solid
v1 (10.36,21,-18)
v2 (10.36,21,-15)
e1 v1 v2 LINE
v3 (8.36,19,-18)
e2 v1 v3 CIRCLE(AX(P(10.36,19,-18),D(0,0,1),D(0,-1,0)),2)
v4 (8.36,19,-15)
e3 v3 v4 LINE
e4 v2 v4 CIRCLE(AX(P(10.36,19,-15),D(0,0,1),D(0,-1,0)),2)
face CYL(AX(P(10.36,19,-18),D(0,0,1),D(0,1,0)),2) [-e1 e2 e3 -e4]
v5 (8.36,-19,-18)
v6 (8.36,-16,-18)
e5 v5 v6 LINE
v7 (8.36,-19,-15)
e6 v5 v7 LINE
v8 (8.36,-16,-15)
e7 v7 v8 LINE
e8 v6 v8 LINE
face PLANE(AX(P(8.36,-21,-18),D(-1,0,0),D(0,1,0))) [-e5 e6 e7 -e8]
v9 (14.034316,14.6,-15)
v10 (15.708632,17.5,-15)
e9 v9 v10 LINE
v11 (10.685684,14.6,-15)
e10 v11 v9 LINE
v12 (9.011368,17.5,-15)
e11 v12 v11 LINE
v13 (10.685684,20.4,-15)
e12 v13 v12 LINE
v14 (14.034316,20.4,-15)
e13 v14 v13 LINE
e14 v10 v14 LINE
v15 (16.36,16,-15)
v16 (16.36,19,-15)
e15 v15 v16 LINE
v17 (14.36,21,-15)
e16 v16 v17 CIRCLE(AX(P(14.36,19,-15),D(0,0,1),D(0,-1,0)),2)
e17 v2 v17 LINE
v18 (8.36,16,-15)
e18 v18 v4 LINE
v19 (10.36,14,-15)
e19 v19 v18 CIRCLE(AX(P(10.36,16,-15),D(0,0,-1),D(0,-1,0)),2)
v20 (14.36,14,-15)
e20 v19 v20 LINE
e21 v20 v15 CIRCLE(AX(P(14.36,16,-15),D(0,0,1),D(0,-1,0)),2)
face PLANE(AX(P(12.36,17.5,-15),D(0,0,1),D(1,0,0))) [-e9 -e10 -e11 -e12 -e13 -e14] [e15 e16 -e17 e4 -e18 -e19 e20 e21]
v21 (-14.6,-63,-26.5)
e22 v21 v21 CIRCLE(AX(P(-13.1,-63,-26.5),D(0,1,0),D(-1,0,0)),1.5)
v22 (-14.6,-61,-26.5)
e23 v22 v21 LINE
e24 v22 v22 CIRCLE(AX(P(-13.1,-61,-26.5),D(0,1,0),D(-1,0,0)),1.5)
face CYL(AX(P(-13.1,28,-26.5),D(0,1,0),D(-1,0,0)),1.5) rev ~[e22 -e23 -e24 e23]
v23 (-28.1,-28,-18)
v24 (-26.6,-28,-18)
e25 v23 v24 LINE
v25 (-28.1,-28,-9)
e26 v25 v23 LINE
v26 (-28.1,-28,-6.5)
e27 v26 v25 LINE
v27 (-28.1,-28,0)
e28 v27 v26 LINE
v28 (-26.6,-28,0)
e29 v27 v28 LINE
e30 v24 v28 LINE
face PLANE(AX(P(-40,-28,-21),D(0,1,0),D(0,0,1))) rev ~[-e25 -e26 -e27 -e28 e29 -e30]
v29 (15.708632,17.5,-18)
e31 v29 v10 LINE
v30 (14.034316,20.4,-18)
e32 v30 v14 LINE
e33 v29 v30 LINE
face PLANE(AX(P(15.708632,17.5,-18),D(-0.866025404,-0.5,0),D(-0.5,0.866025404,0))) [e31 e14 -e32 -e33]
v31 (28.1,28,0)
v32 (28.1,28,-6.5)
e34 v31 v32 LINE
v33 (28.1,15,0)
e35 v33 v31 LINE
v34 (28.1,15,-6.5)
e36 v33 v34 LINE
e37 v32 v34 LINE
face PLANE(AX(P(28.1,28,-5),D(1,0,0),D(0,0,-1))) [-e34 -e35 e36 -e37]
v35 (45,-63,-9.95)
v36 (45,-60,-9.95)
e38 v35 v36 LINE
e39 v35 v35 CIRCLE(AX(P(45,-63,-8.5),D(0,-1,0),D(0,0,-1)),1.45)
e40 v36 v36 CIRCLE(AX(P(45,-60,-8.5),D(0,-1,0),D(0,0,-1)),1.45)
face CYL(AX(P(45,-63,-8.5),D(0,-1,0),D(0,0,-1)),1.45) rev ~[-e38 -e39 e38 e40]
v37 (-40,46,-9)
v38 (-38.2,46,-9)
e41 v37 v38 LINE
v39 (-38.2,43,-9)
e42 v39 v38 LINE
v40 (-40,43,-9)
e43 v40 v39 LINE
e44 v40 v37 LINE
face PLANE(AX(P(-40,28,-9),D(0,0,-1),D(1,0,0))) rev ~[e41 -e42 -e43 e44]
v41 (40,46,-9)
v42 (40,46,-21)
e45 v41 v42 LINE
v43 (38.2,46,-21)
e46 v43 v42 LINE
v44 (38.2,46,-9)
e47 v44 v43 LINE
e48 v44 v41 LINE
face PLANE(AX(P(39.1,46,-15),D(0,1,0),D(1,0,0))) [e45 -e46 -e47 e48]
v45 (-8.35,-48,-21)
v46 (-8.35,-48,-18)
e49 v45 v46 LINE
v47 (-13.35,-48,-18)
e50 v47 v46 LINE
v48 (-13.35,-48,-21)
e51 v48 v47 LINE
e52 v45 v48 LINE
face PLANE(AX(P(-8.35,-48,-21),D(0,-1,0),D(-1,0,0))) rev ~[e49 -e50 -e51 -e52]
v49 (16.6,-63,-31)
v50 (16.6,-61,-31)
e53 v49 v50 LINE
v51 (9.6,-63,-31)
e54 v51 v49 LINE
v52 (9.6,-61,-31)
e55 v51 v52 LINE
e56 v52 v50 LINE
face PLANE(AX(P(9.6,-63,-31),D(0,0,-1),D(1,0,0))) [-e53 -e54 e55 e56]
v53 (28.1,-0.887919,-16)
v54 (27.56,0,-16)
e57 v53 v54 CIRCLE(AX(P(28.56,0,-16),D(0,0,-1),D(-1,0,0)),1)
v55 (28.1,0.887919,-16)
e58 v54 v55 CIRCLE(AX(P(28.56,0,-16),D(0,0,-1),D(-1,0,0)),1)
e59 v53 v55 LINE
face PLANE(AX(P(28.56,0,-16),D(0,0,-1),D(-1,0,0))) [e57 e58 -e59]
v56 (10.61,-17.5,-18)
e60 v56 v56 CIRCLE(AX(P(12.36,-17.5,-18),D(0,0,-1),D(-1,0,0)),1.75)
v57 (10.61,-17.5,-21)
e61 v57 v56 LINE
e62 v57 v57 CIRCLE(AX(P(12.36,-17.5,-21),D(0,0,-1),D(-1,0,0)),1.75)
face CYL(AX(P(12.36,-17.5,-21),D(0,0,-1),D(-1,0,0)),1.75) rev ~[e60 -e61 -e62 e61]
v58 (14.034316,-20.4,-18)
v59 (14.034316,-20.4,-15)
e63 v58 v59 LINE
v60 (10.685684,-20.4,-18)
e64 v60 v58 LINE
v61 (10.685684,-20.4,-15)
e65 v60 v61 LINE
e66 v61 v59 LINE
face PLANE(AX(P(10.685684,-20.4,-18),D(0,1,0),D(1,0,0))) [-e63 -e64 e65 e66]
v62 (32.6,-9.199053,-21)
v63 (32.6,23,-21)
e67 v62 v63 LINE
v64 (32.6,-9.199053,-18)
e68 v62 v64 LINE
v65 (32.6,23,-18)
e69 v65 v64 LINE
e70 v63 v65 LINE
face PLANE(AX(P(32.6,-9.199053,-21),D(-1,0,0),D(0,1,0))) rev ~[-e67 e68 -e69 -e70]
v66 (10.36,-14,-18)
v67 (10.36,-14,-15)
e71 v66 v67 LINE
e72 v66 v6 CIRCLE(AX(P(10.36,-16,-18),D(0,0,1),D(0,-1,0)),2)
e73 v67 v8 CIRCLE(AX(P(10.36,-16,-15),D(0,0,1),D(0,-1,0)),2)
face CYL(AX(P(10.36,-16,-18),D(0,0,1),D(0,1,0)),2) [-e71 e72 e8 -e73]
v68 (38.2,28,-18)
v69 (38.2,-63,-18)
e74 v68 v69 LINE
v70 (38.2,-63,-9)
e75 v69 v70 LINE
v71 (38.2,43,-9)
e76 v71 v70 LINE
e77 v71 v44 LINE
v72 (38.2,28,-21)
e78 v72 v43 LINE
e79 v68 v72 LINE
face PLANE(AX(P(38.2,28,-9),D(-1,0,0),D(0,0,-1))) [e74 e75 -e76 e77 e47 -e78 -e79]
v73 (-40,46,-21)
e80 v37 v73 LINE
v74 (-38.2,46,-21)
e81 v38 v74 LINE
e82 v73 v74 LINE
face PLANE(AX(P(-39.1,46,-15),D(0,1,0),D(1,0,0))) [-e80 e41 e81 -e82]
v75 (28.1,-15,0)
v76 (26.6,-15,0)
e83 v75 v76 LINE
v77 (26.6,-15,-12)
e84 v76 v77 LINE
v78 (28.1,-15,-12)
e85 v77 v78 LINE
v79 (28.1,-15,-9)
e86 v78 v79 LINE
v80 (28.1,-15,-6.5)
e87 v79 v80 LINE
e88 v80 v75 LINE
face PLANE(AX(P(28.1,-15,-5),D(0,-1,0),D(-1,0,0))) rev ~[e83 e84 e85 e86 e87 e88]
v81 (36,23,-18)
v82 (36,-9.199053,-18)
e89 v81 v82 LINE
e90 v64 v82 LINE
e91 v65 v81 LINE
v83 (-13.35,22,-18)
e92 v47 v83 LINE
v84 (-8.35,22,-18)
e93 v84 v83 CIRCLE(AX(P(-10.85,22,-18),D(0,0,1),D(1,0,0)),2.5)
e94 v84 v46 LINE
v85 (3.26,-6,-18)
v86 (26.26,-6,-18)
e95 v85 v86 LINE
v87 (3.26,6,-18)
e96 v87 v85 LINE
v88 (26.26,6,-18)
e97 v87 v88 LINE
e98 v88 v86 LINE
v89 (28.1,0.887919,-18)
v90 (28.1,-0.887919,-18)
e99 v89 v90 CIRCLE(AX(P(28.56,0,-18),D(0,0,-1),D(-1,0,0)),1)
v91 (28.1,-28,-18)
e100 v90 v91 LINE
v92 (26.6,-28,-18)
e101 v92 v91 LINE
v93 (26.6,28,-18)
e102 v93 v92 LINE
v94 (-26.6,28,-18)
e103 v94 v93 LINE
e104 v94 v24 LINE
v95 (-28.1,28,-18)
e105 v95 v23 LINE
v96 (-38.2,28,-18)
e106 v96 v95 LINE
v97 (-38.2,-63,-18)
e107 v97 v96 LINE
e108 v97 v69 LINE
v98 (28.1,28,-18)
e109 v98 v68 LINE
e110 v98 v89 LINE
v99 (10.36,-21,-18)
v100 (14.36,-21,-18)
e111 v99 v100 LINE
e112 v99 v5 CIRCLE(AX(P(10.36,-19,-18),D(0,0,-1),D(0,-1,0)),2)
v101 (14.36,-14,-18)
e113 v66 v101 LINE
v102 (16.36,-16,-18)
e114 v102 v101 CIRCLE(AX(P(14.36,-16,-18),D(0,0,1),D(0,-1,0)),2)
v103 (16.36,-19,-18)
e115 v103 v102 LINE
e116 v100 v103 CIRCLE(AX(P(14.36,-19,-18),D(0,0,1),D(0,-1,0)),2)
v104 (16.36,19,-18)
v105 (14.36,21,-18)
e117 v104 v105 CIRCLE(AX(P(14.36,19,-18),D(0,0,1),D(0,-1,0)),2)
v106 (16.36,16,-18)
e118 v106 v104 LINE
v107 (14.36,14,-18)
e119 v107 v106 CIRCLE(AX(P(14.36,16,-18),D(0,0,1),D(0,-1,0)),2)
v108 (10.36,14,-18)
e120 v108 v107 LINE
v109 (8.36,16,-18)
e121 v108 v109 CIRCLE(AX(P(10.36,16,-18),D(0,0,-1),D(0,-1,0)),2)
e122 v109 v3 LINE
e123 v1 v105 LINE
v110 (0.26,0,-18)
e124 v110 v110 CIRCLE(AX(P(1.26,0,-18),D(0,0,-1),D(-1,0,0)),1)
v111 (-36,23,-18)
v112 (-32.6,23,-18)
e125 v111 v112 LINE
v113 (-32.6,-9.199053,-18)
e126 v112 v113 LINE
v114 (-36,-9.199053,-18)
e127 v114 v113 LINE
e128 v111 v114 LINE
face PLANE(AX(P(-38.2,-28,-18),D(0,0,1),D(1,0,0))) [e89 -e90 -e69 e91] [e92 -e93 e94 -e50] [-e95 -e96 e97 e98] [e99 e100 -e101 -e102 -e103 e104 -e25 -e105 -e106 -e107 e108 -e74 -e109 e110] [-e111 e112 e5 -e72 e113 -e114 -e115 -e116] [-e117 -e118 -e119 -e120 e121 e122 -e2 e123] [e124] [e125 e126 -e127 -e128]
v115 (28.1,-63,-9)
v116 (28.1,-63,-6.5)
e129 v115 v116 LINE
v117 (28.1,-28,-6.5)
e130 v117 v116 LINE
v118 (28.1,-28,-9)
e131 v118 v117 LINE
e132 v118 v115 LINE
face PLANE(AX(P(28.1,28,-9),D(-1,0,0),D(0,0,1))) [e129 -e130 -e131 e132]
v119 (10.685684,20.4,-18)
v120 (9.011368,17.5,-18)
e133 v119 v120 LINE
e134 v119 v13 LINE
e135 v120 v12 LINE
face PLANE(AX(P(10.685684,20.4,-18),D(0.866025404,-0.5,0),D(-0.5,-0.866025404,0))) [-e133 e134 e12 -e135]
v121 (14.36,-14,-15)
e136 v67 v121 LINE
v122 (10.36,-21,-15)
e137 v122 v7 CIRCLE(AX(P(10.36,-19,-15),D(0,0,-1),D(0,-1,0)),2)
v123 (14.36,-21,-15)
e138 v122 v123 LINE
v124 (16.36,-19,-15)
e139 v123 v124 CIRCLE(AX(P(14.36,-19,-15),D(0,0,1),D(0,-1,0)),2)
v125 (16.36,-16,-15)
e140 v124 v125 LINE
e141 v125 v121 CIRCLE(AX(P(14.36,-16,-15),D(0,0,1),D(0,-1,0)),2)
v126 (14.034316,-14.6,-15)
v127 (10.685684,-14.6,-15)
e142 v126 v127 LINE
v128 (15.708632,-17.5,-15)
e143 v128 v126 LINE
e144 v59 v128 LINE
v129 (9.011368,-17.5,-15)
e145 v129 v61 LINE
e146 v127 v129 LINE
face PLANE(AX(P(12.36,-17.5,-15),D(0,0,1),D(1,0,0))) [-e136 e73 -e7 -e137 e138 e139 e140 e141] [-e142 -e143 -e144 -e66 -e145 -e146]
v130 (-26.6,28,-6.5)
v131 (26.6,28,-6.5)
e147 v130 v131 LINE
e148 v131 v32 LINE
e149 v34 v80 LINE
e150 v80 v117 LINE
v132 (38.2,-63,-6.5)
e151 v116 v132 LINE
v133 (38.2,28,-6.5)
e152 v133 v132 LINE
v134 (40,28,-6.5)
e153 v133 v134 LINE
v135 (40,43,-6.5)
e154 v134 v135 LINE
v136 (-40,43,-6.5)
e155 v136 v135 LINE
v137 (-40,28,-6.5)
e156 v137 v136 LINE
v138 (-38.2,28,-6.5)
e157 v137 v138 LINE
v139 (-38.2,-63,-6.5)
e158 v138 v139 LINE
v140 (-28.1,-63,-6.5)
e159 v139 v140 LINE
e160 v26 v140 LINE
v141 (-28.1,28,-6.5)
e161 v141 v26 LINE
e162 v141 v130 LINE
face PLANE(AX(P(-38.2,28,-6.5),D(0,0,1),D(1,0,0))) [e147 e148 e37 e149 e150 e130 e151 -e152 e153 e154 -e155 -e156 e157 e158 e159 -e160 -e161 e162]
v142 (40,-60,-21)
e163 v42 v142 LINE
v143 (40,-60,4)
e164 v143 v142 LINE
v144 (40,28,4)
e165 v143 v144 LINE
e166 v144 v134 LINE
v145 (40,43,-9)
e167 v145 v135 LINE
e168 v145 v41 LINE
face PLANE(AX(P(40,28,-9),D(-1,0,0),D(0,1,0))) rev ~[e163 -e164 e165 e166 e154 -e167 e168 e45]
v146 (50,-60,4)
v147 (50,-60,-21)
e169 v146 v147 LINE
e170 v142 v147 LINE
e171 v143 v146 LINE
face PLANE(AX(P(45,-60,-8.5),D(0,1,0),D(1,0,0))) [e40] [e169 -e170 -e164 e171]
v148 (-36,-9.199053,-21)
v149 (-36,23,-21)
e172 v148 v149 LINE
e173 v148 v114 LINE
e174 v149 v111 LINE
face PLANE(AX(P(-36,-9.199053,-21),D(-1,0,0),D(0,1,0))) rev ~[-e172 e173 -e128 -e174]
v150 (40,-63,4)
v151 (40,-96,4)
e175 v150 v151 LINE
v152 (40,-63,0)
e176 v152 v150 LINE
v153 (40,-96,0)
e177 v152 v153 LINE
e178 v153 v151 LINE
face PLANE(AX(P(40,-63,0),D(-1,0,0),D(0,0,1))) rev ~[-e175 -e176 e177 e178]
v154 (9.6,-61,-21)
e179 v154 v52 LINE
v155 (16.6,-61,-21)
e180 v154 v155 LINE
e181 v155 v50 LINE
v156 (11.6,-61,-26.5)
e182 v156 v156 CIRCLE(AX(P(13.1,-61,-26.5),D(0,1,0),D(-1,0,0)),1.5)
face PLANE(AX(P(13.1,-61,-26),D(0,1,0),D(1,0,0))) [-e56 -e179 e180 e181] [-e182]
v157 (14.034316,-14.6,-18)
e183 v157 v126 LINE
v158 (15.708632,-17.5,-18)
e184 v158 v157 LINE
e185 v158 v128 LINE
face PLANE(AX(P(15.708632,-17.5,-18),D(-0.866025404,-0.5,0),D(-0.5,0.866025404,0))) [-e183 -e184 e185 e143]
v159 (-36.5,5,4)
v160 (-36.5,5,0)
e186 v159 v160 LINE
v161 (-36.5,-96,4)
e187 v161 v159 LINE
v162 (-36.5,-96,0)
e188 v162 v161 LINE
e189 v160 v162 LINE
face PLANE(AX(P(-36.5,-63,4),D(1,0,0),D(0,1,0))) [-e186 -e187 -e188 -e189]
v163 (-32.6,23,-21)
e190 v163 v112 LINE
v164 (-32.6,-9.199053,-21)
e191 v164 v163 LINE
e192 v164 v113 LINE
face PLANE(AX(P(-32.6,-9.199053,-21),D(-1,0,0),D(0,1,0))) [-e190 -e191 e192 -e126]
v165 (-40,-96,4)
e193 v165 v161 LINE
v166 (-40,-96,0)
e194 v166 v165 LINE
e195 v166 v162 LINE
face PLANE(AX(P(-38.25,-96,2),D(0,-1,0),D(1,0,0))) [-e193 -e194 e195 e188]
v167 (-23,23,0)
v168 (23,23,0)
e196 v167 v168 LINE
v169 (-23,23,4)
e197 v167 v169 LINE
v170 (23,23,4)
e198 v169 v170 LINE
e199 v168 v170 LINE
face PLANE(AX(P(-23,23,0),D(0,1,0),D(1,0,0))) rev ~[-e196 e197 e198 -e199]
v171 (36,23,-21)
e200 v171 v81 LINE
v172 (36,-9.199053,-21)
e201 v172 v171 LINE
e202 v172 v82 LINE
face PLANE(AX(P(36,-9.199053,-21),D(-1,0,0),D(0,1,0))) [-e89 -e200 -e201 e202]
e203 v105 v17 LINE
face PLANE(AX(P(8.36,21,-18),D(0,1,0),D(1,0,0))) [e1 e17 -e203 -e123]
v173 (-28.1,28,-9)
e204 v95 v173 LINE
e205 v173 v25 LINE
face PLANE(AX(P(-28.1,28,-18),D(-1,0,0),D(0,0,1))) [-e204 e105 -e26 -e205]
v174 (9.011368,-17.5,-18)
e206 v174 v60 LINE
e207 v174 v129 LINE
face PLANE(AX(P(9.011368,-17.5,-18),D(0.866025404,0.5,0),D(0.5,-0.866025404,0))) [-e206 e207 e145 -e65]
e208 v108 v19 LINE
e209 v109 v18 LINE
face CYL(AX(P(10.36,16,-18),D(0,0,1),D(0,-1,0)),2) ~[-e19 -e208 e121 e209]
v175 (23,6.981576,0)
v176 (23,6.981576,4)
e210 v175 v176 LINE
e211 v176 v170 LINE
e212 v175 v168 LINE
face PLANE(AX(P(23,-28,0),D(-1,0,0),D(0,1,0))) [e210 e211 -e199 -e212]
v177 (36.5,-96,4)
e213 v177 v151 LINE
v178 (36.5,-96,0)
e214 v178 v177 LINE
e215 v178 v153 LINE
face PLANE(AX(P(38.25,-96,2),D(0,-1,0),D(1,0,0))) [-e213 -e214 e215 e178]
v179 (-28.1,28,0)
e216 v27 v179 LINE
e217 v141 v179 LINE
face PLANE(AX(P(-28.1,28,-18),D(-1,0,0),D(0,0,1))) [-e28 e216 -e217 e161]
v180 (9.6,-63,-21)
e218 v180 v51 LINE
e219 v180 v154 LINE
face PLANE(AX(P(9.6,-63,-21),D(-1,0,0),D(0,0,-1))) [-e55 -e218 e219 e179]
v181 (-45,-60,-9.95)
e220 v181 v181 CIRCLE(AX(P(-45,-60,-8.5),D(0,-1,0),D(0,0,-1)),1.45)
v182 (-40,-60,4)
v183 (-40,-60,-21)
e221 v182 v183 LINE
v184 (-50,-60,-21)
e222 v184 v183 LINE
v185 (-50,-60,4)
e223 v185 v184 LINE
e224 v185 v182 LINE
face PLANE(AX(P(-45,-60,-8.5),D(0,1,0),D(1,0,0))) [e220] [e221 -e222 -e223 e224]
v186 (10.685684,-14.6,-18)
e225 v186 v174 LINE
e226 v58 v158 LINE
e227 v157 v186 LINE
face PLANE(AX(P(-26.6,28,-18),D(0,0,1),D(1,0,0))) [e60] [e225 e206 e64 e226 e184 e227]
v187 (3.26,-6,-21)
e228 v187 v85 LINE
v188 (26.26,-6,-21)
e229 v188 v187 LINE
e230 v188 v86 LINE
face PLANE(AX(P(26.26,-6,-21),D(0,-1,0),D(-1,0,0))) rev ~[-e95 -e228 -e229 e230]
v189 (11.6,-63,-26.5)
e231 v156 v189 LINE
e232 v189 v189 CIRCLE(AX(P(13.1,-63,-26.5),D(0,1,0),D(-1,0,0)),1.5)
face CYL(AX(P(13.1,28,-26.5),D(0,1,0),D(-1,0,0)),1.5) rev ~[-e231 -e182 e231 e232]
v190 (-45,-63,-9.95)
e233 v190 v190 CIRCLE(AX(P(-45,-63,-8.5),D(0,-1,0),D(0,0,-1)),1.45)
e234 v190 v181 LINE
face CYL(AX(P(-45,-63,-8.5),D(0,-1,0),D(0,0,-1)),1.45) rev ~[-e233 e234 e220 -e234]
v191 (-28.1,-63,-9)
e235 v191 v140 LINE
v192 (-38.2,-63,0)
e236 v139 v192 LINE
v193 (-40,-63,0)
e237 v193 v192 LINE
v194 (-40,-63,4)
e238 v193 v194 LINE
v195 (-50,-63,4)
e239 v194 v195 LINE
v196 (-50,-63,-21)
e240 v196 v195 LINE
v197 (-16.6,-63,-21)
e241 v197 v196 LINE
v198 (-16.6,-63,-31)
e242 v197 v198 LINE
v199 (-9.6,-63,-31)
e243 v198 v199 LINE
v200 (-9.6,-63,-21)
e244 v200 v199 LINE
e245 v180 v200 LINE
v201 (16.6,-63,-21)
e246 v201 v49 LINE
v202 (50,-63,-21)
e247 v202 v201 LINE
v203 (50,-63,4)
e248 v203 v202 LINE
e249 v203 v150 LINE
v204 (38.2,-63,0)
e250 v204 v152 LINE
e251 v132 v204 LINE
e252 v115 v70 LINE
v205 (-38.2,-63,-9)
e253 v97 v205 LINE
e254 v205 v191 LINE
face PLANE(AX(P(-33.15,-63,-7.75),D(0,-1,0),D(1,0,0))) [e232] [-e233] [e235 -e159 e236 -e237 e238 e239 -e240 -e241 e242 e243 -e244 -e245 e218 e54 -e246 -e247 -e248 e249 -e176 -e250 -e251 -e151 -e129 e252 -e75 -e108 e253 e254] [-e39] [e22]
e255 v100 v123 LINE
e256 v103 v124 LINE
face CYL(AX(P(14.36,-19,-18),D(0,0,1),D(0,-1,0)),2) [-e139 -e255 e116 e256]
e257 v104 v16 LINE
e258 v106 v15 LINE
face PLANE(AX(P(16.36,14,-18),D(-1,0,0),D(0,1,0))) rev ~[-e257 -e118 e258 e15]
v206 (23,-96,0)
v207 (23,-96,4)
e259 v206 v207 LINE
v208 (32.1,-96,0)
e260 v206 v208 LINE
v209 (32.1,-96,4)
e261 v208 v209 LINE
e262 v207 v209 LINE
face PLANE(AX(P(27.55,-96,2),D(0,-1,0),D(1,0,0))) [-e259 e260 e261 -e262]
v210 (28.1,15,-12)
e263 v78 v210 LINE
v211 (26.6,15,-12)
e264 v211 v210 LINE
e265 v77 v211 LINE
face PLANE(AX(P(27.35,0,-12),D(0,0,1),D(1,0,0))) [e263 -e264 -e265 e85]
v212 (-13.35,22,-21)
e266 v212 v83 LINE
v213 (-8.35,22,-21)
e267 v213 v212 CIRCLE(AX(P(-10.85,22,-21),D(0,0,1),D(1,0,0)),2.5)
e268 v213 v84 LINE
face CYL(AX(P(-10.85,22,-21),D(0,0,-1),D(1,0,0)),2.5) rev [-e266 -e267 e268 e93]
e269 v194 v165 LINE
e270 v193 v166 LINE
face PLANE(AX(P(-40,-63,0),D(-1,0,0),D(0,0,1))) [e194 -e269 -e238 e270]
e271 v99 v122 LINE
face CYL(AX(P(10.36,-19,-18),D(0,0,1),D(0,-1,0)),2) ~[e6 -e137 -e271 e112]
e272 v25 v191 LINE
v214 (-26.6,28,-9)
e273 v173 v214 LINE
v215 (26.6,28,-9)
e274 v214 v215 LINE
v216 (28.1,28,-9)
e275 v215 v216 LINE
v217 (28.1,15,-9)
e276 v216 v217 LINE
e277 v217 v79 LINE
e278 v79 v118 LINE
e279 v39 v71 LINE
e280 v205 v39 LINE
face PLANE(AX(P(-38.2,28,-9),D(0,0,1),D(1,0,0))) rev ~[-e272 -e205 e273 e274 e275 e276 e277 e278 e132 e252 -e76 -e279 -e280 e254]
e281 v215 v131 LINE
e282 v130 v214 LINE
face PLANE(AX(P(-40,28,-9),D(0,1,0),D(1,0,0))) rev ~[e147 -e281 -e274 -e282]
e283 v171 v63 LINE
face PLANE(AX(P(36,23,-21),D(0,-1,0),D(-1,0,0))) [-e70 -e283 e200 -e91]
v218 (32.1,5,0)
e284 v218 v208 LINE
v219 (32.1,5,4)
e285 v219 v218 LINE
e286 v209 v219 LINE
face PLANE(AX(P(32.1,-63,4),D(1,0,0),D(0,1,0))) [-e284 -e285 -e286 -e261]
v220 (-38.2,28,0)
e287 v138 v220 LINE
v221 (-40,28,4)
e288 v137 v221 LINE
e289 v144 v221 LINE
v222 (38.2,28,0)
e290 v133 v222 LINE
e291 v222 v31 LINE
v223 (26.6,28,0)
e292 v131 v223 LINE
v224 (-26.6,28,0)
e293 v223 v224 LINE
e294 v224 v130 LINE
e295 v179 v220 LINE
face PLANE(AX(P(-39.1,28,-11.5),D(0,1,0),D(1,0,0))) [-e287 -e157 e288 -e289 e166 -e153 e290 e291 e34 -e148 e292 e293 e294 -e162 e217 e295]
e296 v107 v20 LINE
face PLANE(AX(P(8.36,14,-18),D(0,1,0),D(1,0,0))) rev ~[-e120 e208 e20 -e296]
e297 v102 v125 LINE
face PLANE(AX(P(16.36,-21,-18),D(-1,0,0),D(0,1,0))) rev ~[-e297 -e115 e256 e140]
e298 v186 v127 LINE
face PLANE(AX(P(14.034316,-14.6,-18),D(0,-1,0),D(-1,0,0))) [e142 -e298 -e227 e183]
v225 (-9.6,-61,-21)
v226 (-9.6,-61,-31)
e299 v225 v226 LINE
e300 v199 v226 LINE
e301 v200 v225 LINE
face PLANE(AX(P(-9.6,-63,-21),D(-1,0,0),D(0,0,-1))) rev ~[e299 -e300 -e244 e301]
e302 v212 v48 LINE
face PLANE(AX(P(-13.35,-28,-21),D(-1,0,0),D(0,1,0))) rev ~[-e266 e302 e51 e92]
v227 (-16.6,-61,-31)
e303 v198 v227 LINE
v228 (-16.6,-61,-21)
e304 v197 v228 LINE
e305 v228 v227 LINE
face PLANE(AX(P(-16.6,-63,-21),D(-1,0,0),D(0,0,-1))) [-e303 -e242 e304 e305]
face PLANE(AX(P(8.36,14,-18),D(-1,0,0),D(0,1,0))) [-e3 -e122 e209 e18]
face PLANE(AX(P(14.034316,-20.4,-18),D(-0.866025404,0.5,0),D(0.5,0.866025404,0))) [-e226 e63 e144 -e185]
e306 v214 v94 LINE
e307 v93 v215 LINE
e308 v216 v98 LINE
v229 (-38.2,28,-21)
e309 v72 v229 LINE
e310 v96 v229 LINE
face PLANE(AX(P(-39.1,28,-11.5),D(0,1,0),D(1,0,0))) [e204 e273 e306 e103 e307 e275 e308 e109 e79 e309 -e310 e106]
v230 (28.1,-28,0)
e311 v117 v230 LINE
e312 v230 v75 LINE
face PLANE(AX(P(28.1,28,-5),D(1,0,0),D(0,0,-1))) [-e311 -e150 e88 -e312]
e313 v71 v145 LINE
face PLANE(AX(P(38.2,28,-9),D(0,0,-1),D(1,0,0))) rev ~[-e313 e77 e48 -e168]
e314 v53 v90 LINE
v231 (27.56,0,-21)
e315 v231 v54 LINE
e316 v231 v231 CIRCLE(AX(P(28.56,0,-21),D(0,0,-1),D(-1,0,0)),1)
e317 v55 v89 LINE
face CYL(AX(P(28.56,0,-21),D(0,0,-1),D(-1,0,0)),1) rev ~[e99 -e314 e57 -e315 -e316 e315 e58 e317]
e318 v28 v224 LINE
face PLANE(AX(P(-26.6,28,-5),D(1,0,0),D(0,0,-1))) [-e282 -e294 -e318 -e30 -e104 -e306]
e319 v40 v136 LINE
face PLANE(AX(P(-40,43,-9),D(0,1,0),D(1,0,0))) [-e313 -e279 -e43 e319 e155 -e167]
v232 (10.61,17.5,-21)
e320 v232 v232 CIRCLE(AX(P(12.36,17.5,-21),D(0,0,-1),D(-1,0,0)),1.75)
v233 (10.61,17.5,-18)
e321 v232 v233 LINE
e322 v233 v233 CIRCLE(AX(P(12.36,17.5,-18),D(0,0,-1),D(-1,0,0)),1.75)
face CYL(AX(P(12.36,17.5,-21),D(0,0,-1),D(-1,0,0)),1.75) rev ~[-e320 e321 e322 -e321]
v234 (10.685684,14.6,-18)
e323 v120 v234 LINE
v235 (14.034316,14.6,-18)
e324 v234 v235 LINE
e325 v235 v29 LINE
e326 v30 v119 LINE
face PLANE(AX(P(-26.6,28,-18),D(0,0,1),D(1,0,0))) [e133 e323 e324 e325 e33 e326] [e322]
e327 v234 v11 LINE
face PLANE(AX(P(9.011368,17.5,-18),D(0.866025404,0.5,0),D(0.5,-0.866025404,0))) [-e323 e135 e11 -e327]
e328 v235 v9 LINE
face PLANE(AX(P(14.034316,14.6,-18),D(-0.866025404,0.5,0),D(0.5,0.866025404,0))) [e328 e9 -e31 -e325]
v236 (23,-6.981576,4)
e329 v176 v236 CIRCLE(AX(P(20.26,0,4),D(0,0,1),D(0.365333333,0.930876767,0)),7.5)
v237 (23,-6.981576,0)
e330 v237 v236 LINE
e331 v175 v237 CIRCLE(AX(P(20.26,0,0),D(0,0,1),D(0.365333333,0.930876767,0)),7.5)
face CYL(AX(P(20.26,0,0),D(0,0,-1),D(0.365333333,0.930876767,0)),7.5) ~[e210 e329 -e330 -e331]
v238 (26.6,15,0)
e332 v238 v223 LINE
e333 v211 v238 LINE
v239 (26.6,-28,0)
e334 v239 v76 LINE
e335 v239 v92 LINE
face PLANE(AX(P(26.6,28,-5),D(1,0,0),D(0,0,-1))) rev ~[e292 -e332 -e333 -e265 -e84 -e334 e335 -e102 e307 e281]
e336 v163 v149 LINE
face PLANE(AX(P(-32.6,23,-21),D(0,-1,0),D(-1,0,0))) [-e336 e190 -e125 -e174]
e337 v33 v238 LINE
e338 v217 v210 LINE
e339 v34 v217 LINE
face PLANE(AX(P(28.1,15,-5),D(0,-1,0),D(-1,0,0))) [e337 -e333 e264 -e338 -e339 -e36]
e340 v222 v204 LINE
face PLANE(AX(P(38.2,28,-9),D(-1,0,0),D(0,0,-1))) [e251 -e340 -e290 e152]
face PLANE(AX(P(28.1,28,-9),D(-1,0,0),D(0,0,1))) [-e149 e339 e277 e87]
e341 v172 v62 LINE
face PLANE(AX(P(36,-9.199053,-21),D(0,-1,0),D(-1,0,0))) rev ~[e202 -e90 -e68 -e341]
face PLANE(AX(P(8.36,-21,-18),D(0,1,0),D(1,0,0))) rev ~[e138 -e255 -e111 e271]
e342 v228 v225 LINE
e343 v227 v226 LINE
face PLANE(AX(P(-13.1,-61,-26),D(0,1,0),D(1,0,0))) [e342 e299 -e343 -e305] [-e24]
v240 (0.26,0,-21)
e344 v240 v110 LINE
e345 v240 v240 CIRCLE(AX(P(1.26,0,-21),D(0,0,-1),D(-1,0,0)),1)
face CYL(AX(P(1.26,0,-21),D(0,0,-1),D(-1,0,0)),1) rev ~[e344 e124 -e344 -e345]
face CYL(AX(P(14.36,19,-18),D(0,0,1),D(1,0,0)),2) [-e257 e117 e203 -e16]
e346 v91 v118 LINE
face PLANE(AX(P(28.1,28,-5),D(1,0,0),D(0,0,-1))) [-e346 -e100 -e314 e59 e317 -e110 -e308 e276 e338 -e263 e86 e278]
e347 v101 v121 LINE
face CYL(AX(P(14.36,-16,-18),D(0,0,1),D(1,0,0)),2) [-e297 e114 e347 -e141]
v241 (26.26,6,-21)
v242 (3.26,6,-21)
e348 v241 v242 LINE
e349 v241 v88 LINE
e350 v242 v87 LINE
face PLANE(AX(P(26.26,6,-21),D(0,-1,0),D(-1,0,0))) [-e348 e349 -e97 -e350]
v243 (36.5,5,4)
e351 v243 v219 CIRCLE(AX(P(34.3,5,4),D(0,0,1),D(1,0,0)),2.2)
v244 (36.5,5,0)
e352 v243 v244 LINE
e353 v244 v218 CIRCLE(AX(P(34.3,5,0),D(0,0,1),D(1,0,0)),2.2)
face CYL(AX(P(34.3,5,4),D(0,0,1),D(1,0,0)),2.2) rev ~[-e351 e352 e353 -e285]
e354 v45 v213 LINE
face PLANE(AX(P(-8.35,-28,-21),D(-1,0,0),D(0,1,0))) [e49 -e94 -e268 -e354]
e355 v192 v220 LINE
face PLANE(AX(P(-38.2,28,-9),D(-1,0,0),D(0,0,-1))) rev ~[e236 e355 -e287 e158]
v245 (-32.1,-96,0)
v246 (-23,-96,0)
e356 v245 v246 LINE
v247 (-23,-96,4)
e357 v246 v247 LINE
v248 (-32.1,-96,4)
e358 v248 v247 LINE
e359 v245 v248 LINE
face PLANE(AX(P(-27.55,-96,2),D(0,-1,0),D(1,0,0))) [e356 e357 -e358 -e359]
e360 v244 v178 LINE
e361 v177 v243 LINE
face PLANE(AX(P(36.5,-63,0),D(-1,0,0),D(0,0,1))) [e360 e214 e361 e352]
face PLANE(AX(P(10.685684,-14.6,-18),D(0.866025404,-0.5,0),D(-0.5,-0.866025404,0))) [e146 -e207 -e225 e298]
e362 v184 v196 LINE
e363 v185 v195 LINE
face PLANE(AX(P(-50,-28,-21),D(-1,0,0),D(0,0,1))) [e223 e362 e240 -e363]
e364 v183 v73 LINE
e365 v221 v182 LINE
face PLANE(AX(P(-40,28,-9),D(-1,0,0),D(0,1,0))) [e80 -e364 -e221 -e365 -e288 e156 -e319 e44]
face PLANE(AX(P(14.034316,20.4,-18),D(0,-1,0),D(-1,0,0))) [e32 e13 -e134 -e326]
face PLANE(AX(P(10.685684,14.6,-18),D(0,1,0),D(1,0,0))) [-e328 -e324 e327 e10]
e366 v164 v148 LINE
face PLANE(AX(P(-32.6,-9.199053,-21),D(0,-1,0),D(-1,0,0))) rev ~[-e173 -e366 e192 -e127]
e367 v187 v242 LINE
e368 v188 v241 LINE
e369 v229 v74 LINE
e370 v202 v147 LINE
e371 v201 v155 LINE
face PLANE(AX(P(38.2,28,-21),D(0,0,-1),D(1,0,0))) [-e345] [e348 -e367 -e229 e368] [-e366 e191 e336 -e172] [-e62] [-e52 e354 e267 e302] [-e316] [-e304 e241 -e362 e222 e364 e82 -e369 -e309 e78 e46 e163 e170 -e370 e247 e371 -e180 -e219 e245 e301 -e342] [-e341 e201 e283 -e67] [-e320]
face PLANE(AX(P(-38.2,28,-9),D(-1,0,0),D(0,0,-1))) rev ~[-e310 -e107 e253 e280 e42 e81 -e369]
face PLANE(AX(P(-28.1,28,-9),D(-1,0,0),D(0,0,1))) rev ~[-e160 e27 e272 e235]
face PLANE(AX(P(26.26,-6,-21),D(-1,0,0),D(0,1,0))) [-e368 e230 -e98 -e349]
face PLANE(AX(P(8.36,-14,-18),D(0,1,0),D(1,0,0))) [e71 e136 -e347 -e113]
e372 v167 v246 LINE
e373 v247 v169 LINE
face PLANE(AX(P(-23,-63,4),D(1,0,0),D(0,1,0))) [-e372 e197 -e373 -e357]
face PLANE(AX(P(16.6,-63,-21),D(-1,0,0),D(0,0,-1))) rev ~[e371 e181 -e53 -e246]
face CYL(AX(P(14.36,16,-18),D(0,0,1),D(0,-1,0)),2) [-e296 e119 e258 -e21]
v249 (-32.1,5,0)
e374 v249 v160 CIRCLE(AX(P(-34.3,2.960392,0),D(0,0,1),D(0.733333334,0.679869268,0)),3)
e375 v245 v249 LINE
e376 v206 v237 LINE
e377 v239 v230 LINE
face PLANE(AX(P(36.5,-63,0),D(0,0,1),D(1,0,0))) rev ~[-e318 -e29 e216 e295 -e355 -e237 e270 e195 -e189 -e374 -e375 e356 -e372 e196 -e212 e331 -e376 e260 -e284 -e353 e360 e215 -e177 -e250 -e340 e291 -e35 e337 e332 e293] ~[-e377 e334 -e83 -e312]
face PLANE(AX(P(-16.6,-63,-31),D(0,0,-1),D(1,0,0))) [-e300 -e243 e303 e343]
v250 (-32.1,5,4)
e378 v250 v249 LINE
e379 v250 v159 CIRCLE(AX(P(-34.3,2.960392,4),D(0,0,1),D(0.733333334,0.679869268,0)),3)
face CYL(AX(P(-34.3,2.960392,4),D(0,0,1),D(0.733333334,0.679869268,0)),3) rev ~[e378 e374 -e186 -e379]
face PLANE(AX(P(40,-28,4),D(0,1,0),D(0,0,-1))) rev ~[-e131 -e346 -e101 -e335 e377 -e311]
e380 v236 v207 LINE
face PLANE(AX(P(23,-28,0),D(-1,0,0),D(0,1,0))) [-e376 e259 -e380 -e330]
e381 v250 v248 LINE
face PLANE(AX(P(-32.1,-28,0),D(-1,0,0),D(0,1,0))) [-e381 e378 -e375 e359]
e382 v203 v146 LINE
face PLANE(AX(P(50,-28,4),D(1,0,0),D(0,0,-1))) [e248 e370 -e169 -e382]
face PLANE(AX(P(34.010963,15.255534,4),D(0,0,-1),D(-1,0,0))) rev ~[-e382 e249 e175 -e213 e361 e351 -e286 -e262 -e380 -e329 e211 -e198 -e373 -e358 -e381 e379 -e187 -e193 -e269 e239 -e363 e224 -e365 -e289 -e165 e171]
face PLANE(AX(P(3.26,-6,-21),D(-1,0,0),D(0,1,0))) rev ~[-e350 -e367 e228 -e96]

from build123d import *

# Parameters (mm, degrees)
SKETCH1_W            = 9.1
SKETCH1_H            = 51
SKETCH1_W_2          = 23
SKETCH1_H_2          = 5
BOSS_EXTRUDE1_DEPTH  = 4
SKETCH2_W            = 1.8
SKETCH2_H            = 56
SKETCH2_W_2          = 1.5
BOSS_EXTRUDE2_DEPTH  = 5
SKETCH3_W            = 1.5
SKETCH3_H            = 30
CUT_EXTRUDE1_DEPTH   = 5
SKETCH4_W            = 1.8
SKETCH4_H            = 13
SKETCH4_W_2          = 1.5
SKETCH4_H_2          = 3
SKETCH4_W_3          = 10.1
SKETCH4_W_4          = 53.2
BOSS_EXTRUDE3_DEPTH  = 56
SKETCH5_R            = 1.75
SKETCH5_R_2          = 4.75
CUT_EXTRUDE2_DEPTH   = 3
SKETCH6_W            = 8
SKETCH6_H            = 7
BOSS_EXTRUDE4_DEPTH  = 3
FILLET1_R            = 2
SKETCH7_W            = 1.5
SKETCH7_H            = 30
CUT_EXTRUDE3_DEPTH   = 7
SKETCH8_W            = 5
SKETCH8_H            = 50
CUT_EXTRUDE4_DEPTH   = 3
SKETCH11_W           = 7
SKETCH11_H           = 3
BOSS_EXTRUDE5_DEPTH  = 10
SKETCH12_W           = 25
SKETCH12_H           = 3
BOSS_EXTRUDE6_DEPTH  = 10
SKETCH13_W           = 25
SKETCH13_H           = 3
BOSS_EXTRUDE7_DEPTH  = 10
SKETCH14_R           = 1.75
CUT_EXTRUDE6_DEPTH   = 3
BOSS_EXTRUDE8_START  = -4
BOSS_EXTRUDE8_DEPTH  = 4
SKETCH17_W           = 3.4
SKETCH17_H           = 32.199052503
CUT_EXTRUDE8_DEPTH   = 4
SKETCH18_W           = 23
SKETCH18_H           = 12
CUT_EXTRUDE9_DEPTH   = 10
SKETCH19_W           = 76.4
SKETCH19_H           = 18
BOSS_EXTRUDE10_DEPTH = 35
SKETCH21_R           = 1.45
CUT_EXTRUDE11_DEPTH  = 109.360509412
SKETCH20_W           = 10
SKETCH20_H           = 25
SKETCH20_W_2         = 7
SKETCH20_H_2         = 10
CUT_EXTRUDE10_DEPTH  = 35
SKETCH22_W           = 4.4
SKETCH22_H           = 35
CUT_EXTRUDE12_DEPTH  = 10
SKETCH23_W           = 46
SKETCH23_H           = 35
CUT_EXTRUDE13_DEPTH  = 10
SKETCH25_W           = 1.8
SKETCH25_H           = 12
BOSS_EXTRUDE12_DEPTH = 18
SKETCH27_R           = 1
CUT_EXTRUDE15_DEPTH  = 5
SKETCH28_W           = 7
SKETCH28_H           = 10
CUT_EXTRUDE16_DEPTH  = 122.231184107
SKETCH29_W           = 7
SKETCH29_H           = 10
BOSS_EXTRUDE13_DEPTH = 2
SKETCH30_R           = 1.5
CUT_EXTRUDE17_DEPTH  = 109.360509412
BOSS_EXTRUDE14_DEPTH = 4
SKETCH33_W           = 3.5
SKETCH33_H           = 4
SKETCH33_W_2         = 9.1
BOSS_EXTRUDE15_DEPTH = 33
BOSS_EXTRUDE16_DEPTH = 4
SKETCH35_W           = 80
SKETCH35_H           = 15
BOSS_EXTRUDE17_DEPTH = 2.5
SKETCH36_W           = 10.1
SKETCH36_H           = 2.5
BOSS_EXTRUDE18_DEPTH = 91
SKETCH37_W           = 5
SKETCH37_H           = 20
CUT_EXTRUDE18_DEPTH  = 5


with BuildPart() as part:
    # Sketch1 → Boss-Extrude1 (new body)
    with BuildSketch(Plane.XY):
        with BuildLine():
            Line((-23, 23), (-23, 28))
            Line((-23, 28), (-40, 28))
            Line((-40, 28), (-40, -28))
            Line((-40, -28), (-36.5, -28))
            Line((-36.5, -28), (-36.5, 23))
            ThreePointArc((-36.5, 23), (-34.3, 25.2), (-32.1, 23))
            Line((-32.1, 23), (-23, 23))
        make_face()
        with Locations((-27.55, -2.5)):
            Rectangle(SKETCH1_W, SKETCH1_H)
        with Locations((-11.5, 25.5)):
            Rectangle(SKETCH1_W_2, SKETCH1_H_2)
        with Locations((27.55, -2.5)):
            Rectangle(SKETCH1_W, SKETCH1_H)
        with Locations((11.5, 25.5)):
            Rectangle(SKETCH1_W_2, SKETCH1_H_2)
        with BuildLine():
            Line((40, 28), (23, 28))
            Line((23, 28), (23, 23))
            Line((23, 23), (32.1, 23))
            ThreePointArc((32.1, 23), (34.3, 25.2), (36.5, 23))
            Line((36.5, 23), (36.5, -28))
            Line((36.5, -28), (40, -28))
            Line((40, -28), (40, 28))
        make_face()
    extrude(amount=BOSS_EXTRUDE1_DEPTH)

    # Sketch2 → Boss-Extrude2 (add)
    with BuildSketch(Plane(origin=(0, 0, 0), x_dir=(-1, 0, 0), z_dir=(0, 0, -1))):
        with Locations((-39.1, 0)):
            Rectangle(SKETCH2_W, SKETCH2_H)
        with Locations((-27.35, 0)):
            Rectangle(SKETCH2_W_2, SKETCH2_H)
        with Locations((27.35, 0)):
            Rectangle(SKETCH2_W_2, SKETCH2_H)
        with Locations((39.1, 0)):
            Rectangle(SKETCH2_W, SKETCH2_H)
    extrude(amount=BOSS_EXTRUDE2_DEPTH)

    # Sketch3 → Cut-Extrude1 (cut)
    with BuildSketch(Plane(origin=(0, 0, -5), x_dir=(-1, 0, 0), z_dir=(0, 0, -1))):
        with Locations((-27.35, 0)):
            Rectangle(SKETCH3_W, SKETCH3_H)
    extrude(amount=-CUT_EXTRUDE1_DEPTH, mode=Mode.SUBTRACT)

    # Sketch4 → Boss-Extrude3 (add)
    with BuildSketch(Plane(origin=(0, 28, 0), x_dir=(1, 0, 0), z_dir=(0, 1, 0))):
        with Locations((-39.1, 11.5)):
            Rectangle(SKETCH4_W, SKETCH4_H)
        with Locations((-27.35, 11.5)):
            Rectangle(SKETCH4_W_2, SKETCH4_H)
        with Locations((-27.35, 19.5)):
            Rectangle(SKETCH4_W_2, SKETCH4_H_2)
        with Locations((-33.15, 19.5)):
            Rectangle(SKETCH4_W_3, SKETCH4_H_2)
        with Locations((-39.1, 19.5)):
            Rectangle(SKETCH4_W, SKETCH4_H_2)
        with Locations((0, 19.5)):
            Rectangle(SKETCH4_W_4, SKETCH4_H_2)
        with Locations((27.35, 11.5)):
            Rectangle(SKETCH4_W_2, SKETCH4_H)
        with Locations((27.35, 19.5)):
            Rectangle(SKETCH4_W_2, SKETCH4_H_2)
        with Locations((33.15, 19.5)):
            Rectangle(SKETCH4_W_3, SKETCH4_H_2)
        with Locations((39.1, 19.5)):
            Rectangle(SKETCH4_W, SKETCH4_H_2)
        with Locations((39.1, 11.5)):
            Rectangle(SKETCH4_W, SKETCH4_H)
    extrude(amount=-BOSS_EXTRUDE3_DEPTH)

    # Sketch5 → Cut-Extrude2 (cut)
    with BuildSketch(Plane(origin=(0, 0, -21), x_dir=(-1, 0, 0), z_dir=(0, 0, -1))):
        with Locations((-12.36, 17.5)):
            Circle(SKETCH5_R)
        with Locations((-12.36, -17.5)):
            Circle(SKETCH5_R)
        with Locations((-20.26, 0)):
            Circle(SKETCH5_R_2)
    extrude(amount=-CUT_EXTRUDE2_DEPTH, mode=Mode.SUBTRACT)

    # Sketch6 → Boss-Extrude4 (add)
    # profile 1 of 2: a face of its own
    with BuildSketch(Plane.XY.offset(-18)):
        with Locations((12.36, 17.5)):
            Rectangle(SKETCH6_W, SKETCH6_H)
        Polygon((10.685684219, 14.6), (14.034315781, 14.6), (15.708631561, 17.5), (14.034315781, 20.4), (10.685684219, 20.4), (9.011368439, 17.5), align=None, mode=Mode.SUBTRACT)
    # profile 2 of 2: a face of its own
    with BuildSketch(Plane.XY.offset(-18)):
        with Locations((12.36, -17.5)):
            Rectangle(SKETCH6_W, SKETCH6_H)
        Polygon((10.685684219, -20.4), (14.034315781, -20.4), (15.708631561, -17.5), (14.034315781, -14.6), (10.685684219, -14.6), (9.011368439, -17.5), align=None, mode=Mode.SUBTRACT)
    extrude(amount=BOSS_EXTRUDE4_DEPTH)

    # Fillet1
    fillet1_edges = [part.edges().sort_by_distance(p)[0] for p in [
        (16.36, 14, -16.5),
        (16.36, 21, -16.5),
        (8.36, 21, -16.5),
        (8.36, 14, -16.5),
        (16.36, -21, -16.5),
        (16.36, -14, -16.5),
        (8.36, -14, -16.5),
        (8.36, -21, -16.5),
    ]]
    fillet(fillet1_edges, radius=FILLET1_R)

    # Sketch7 → Cut-Extrude3 (cut)
    with BuildSketch(Plane.XY.offset(-5)):
        with Locations((27.35, 0)):
            Rectangle(SKETCH7_W, SKETCH7_H)
    extrude(amount=-CUT_EXTRUDE3_DEPTH, mode=Mode.SUBTRACT)

    # Sketch8 → Cut-Extrude4 (cut)
    with BuildSketch(Plane(origin=(0, 0, -21), x_dir=(-1, 0, 0), z_dir=(0, 0, -1))):
        with Locations((10.85, -3)):
            Rectangle(SKETCH8_W, SKETCH8_H)
        with BuildLine():
            ThreePointArc((8.35, 22), (10.85, 24.5), (13.35, 22))
            Line((13.35, 22), (8.35, 22))
        make_face()
    extrude(amount=-CUT_EXTRUDE4_DEPTH, mode=Mode.SUBTRACT)

    # Sketch11 → Boss-Extrude5 (add)
    with BuildSketch(Plane(origin=(0, 0, -21), x_dir=(-1, 0, 0), z_dir=(0, 0, -1))):
        with Locations((-20.5, -26.5)):
            Rectangle(SKETCH11_W, SKETCH11_H)
        with Locations((20.5, -26.5)):
            Rectangle(SKETCH11_W, SKETCH11_H)
    extrude(amount=BOSS_EXTRUDE5_DEPTH)

    # Sketch12 → Boss-Extrude6 (add)
    with BuildSketch(Plane(origin=(40, 0, 0), x_dir=(0, 0, -1), z_dir=(1, 0, 0))):
        with Locations((8.5, -26.5)):
            Rectangle(SKETCH12_W, SKETCH12_H)
    extrude(amount=BOSS_EXTRUDE6_DEPTH)

    # Sketch13 → Boss-Extrude7 (add)
    with BuildSketch(Plane.ZY.offset(40)):
        with Locations((-8.5, -26.5)):
            Rectangle(SKETCH13_W, SKETCH13_H)
    extrude(amount=BOSS_EXTRUDE7_DEPTH)

    # Sketch14 → Cut-Extrude6 (cut)
    with BuildSketch(Plane(origin=(0, -25, 0), x_dir=(1, 0, 0), z_dir=(0, 1, 0))):
        with Locations(Location((20.5, 26, 0), (0, 0, 180))):
            Circle(SKETCH14_R)
        with Locations(Location((45, 8.5, 0), (0, 0, 180))):
            Circle(SKETCH14_R)
        with Locations(Location((-20.5, 26, 0), (0, 0, 180))):
            Circle(SKETCH14_R)
        with Locations(Location((-45, 8.5, 0), (0, 0, 180))):
            Circle(SKETCH14_R)
    extrude(amount=-CUT_EXTRUDE6_DEPTH, mode=Mode.SUBTRACT)

    # Sketch15 → Boss-Extrude8 (add)
    with BuildSketch(Plane.XY.offset(4).offset(BOSS_EXTRUDE8_START)):
        with BuildLine():
            ThreePointArc((23, 3.880064432), (24.477671158, 2.184891302), (25.01, 0))
            ThreePointArc((25.01, 0), (24.477671158, -2.184891302), (23, -3.880064432))
            Line((23, -3.880064432), (23, -6.981575753))
            ThreePointArc((23, -6.981575753), (26.456773354, -4.224926035), (27.76, 0))
            ThreePointArc((27.76, 0), (26.456773354, 4.224926035), (23, 6.981575753))
            Line((23, 6.981575753), (23, 3.880064432))
        make_face()
        with BuildLine():
            ThreePointArc((23, -3.880064432), (15.51, 0), (23, 3.880064432))
            Line((23, 3.880064432), (23, 6.981575753))
            ThreePointArc((23, 6.981575753), (12.76, 0), (23, -6.981575753))
            Line((23, -6.981575753), (23, -3.880064432))
        make_face()
        with BuildLine():
            ThreePointArc((23, -3.880064432), (24.477671158, -2.184891302), (25.01, 0))
            ThreePointArc((25.01, 0), (24.477671158, 2.184891302), (23, 3.880064432))
            Line((23, 3.880064432), (23, -3.880064432))
        make_face()
        with BuildLine():
            Line((23, -3.880064432), (23, 3.880064432))
            ThreePointArc((23, 3.880064432), (15.51, 0), (23, -3.880064432))
        make_face()
    extrude(amount=BOSS_EXTRUDE8_DEPTH)

    # Sketch17 → Cut-Extrude8 (cut)
    with BuildSketch(Plane(origin=(0, 0, -21), x_dir=(-1, 0, 0), z_dir=(0, 0, -1))):
        with Locations((34.3, 6.900473748)):
            Rectangle(SKETCH17_W, SKETCH17_H)
        with Locations((-34.3, 6.900473748)):
            Rectangle(SKETCH17_W, SKETCH17_H)
    extrude(amount=-CUT_EXTRUDE8_DEPTH, mode=Mode.SUBTRACT)

    # Sketch18 → Cut-Extrude9 (cut)
    with BuildSketch(Plane(origin=(0, 0, -21), x_dir=(-1, 0, 0), z_dir=(0, 0, -1))):
        with Locations((-14.76, 0)):
            Rectangle(SKETCH18_W, SKETCH18_H)
    extrude(amount=-CUT_EXTRUDE9_DEPTH, mode=Mode.SUBTRACT)

    # Sketch19 → Boss-Extrude10 (add)
    with BuildSketch(Plane.XZ.offset(28)):
        Polygon((-50, 4), (-38.2, 4), (38.2, 4), (50, 4), (50, -21), (38.2, -21), (24, -21), (24, -31), (17, -31), (17, -21), (-17, -21), (-17, -31), (-24, -31), (-24, -21), (-38.2, -21), (-50, -21), align=None)
        with Locations((0, -9)):
            Rectangle(SKETCH19_W, SKETCH19_H, mode=Mode.SUBTRACT)
    extrude(amount=BOSS_EXTRUDE10_DEPTH)

    # Sketch21 → Cut-Extrude11 (cut, through all)
    with BuildSketch(Plane.XZ.offset(63)):
        with Locations(Location((45, -8.5, 0), (0, 0, 270))):
            Circle(SKETCH21_R)
        with Locations(Location((20.5, -26, 0), (0, 0, 270))):
            Circle(SKETCH21_R)
        with Locations(Location((-20.5, -26, 0), (0, 0, 270))):
            Circle(SKETCH21_R)
        with Locations(Location((-45, -8.5, 0), (0, 0, 270))):
            Circle(SKETCH21_R)
    extrude(amount=-CUT_EXTRUDE11_DEPTH, mode=Mode.SUBTRACT)

    # Sketch20 → Cut-Extrude10 (cut)
    with BuildSketch(Plane(origin=(0, -25, 0), x_dir=(1, 0, 0), z_dir=(0, 1, 0))):
        with Locations((-45, 8.5)):
            Rectangle(SKETCH20_W, SKETCH20_H)
        with Locations((45, 8.5)):
            Rectangle(SKETCH20_W, SKETCH20_H)
        with Locations((-20.5, 26)):
            Rectangle(SKETCH20_W_2, SKETCH20_H_2)
        with Locations((20.5, 26)):
            Rectangle(SKETCH20_W_2, SKETCH20_H_2)
    extrude(amount=-CUT_EXTRUDE10_DEPTH, mode=Mode.SUBTRACT)

    # Sketch22 → Cut-Extrude12 (cut)
    with BuildSketch(Plane.XY.offset(4)):
        with Locations((-34.3, -45.5)):
            Rectangle(SKETCH22_W, SKETCH22_H)
        with Locations((34.3, -45.5)):
            Rectangle(SKETCH22_W, SKETCH22_H)
    extrude(amount=-CUT_EXTRUDE12_DEPTH, mode=Mode.SUBTRACT)

    # Sketch23 → Cut-Extrude13 (cut)
    with BuildSketch(Plane.XY.offset(4)):
        with Locations((0, -45.5)):
            Rectangle(SKETCH23_W, SKETCH23_H)
    extrude(amount=-CUT_EXTRUDE13_DEPTH, mode=Mode.SUBTRACT)

    # Sketch25 → Boss-Extrude12 (add)
    with BuildSketch(Plane(origin=(0, 28, 0), x_dir=(1, 0, 0), z_dir=(0, 1, 0))):
        with Locations((39.1, 15)):
            Rectangle(SKETCH25_W, SKETCH25_H)
        with Locations((-39.1, 15)):
            Rectangle(SKETCH25_W, SKETCH25_H)
    extrude(amount=BOSS_EXTRUDE12_DEPTH)

    # Sketch27 → Cut-Extrude15 (cut)
    with BuildSketch(Plane(origin=(0, 0, -21), x_dir=(-1, 0, 0), z_dir=(0, 0, -1))):
        with Locations((-1.26, 0)):
            Circle(SKETCH27_R)
        with Locations((-28.56, 0)):
            Circle(SKETCH27_R)
    extrude(amount=-CUT_EXTRUDE15_DEPTH, mode=Mode.SUBTRACT)

    # Sketch28 → Cut-Extrude16 (cut, through all)
    with BuildSketch(Plane(origin=(0, -60, 0), x_dir=(1, 0, 0), z_dir=(0, 1, 0))):
        with Locations((20.5, 26)):
            Rectangle(SKETCH28_W, SKETCH28_H)
        with Locations((-20.5, 26)):
            Rectangle(SKETCH28_W, SKETCH28_H)
    extrude(amount=-CUT_EXTRUDE16_DEPTH, mode=Mode.SUBTRACT)

    # Sketch29 → Boss-Extrude13 (add)
    with BuildSketch(Plane(origin=(0, -63, 0), x_dir=(1, 0, 0), z_dir=(0, 1, 0))):
        with Locations((13.1, 26)):
            Rectangle(SKETCH29_W, SKETCH29_H)
        with Locations((-13.1, 26)):
            Rectangle(SKETCH29_W, SKETCH29_H)
    extrude(amount=BOSS_EXTRUDE13_DEPTH)

    # Sketch30 → Cut-Extrude17 (cut, through all)
    with BuildSketch(Plane(origin=(0, 28, 0), x_dir=(1, 0, 0), z_dir=(0, 1, 0))):
        with Locations(Location((13.1, 26.5, 0), (0, 0, 180))):
            Circle(SKETCH30_R)
        with Locations(Location((-13.1, 26.5, 0), (0, 0, 180))):
            Circle(SKETCH30_R)
    extrude(amount=-CUT_EXTRUDE17_DEPTH, mode=Mode.SUBTRACT)

    # Sketch32 → Boss-Extrude14 (add)
    with BuildSketch(Plane.XY.offset(4)):
        with BuildLine():
            Line((-38, 26), (-30, 26))
            Line((-30, 26), (-30, 5))
            Line((-30, 5), (-32.1, 5))
            ThreePointArc((-32.1, 5), (-34.3, 5.960392195), (-36.5, 5))
            Line((-36.5, 5), (-38, 5))
            Line((-38, 5), (-38, 26))
        make_face()
    extrude(amount=-BOSS_EXTRUDE14_DEPTH)

    # Sketch33 → Boss-Extrude15 (add)
    with BuildSketch(Plane.XZ.offset(63)):
        with Locations((38.25, 2)):
            Rectangle(SKETCH33_W, SKETCH33_H)
        with Locations((-38.25, 2)):
            Rectangle(SKETCH33_W, SKETCH33_H)
        with Locations((-27.55, 2)):
            Rectangle(SKETCH33_W_2, SKETCH33_H)
        with Locations((27.55, 2)):
            Rectangle(SKETCH33_W_2, SKETCH33_H)
    extrude(amount=BOSS_EXTRUDE15_DEPTH)

    # Sketch34 → Boss-Extrude16 (add)
    with BuildSketch(Plane.XY.offset(4)):
        with BuildLine():
            Line((30, 26), (38, 26))
            Line((38, 26), (38, 5))
            Line((38, 5), (36.5, 5))
            ThreePointArc((36.5, 5), (34.3, 7.2), (32.1, 5))
            Line((32.1, 5), (30, 5))
            Line((30, 5), (30, 26))
        make_face()
    extrude(amount=-BOSS_EXTRUDE16_DEPTH)

    # Sketch35 → Boss-Extrude17 (add)
    with BuildSketch(Plane.XY.offset(-9)):
        with Locations((0, 35.5)):
            Rectangle(SKETCH35_W, SKETCH35_H)
    extrude(amount=BOSS_EXTRUDE17_DEPTH)

    # Sketch36 → Boss-Extrude18 (add)
    with BuildSketch(Plane.XZ.offset(-28)):
        with Locations((-33.15, -7.75)):
            Rectangle(SKETCH36_W, SKETCH36_H)
        with Locations((33.15, -7.75)):
            Rectangle(SKETCH36_W, SKETCH36_H)
    extrude(amount=BOSS_EXTRUDE18_DEPTH)

    # Sketch37 → Cut-Extrude18 (cut)
    with BuildSketch(Plane(origin=(0, 0, -21), x_dir=(-1, 0, 0), z_dir=(0, 0, -1))):
        with Locations((10.85, -38)):
            Rectangle(SKETCH37_W, SKETCH37_H)
    extrude(amount=-CUT_EXTRUDE18_DEPTH, mode=Mode.SUBTRACT)


solid = part.part
